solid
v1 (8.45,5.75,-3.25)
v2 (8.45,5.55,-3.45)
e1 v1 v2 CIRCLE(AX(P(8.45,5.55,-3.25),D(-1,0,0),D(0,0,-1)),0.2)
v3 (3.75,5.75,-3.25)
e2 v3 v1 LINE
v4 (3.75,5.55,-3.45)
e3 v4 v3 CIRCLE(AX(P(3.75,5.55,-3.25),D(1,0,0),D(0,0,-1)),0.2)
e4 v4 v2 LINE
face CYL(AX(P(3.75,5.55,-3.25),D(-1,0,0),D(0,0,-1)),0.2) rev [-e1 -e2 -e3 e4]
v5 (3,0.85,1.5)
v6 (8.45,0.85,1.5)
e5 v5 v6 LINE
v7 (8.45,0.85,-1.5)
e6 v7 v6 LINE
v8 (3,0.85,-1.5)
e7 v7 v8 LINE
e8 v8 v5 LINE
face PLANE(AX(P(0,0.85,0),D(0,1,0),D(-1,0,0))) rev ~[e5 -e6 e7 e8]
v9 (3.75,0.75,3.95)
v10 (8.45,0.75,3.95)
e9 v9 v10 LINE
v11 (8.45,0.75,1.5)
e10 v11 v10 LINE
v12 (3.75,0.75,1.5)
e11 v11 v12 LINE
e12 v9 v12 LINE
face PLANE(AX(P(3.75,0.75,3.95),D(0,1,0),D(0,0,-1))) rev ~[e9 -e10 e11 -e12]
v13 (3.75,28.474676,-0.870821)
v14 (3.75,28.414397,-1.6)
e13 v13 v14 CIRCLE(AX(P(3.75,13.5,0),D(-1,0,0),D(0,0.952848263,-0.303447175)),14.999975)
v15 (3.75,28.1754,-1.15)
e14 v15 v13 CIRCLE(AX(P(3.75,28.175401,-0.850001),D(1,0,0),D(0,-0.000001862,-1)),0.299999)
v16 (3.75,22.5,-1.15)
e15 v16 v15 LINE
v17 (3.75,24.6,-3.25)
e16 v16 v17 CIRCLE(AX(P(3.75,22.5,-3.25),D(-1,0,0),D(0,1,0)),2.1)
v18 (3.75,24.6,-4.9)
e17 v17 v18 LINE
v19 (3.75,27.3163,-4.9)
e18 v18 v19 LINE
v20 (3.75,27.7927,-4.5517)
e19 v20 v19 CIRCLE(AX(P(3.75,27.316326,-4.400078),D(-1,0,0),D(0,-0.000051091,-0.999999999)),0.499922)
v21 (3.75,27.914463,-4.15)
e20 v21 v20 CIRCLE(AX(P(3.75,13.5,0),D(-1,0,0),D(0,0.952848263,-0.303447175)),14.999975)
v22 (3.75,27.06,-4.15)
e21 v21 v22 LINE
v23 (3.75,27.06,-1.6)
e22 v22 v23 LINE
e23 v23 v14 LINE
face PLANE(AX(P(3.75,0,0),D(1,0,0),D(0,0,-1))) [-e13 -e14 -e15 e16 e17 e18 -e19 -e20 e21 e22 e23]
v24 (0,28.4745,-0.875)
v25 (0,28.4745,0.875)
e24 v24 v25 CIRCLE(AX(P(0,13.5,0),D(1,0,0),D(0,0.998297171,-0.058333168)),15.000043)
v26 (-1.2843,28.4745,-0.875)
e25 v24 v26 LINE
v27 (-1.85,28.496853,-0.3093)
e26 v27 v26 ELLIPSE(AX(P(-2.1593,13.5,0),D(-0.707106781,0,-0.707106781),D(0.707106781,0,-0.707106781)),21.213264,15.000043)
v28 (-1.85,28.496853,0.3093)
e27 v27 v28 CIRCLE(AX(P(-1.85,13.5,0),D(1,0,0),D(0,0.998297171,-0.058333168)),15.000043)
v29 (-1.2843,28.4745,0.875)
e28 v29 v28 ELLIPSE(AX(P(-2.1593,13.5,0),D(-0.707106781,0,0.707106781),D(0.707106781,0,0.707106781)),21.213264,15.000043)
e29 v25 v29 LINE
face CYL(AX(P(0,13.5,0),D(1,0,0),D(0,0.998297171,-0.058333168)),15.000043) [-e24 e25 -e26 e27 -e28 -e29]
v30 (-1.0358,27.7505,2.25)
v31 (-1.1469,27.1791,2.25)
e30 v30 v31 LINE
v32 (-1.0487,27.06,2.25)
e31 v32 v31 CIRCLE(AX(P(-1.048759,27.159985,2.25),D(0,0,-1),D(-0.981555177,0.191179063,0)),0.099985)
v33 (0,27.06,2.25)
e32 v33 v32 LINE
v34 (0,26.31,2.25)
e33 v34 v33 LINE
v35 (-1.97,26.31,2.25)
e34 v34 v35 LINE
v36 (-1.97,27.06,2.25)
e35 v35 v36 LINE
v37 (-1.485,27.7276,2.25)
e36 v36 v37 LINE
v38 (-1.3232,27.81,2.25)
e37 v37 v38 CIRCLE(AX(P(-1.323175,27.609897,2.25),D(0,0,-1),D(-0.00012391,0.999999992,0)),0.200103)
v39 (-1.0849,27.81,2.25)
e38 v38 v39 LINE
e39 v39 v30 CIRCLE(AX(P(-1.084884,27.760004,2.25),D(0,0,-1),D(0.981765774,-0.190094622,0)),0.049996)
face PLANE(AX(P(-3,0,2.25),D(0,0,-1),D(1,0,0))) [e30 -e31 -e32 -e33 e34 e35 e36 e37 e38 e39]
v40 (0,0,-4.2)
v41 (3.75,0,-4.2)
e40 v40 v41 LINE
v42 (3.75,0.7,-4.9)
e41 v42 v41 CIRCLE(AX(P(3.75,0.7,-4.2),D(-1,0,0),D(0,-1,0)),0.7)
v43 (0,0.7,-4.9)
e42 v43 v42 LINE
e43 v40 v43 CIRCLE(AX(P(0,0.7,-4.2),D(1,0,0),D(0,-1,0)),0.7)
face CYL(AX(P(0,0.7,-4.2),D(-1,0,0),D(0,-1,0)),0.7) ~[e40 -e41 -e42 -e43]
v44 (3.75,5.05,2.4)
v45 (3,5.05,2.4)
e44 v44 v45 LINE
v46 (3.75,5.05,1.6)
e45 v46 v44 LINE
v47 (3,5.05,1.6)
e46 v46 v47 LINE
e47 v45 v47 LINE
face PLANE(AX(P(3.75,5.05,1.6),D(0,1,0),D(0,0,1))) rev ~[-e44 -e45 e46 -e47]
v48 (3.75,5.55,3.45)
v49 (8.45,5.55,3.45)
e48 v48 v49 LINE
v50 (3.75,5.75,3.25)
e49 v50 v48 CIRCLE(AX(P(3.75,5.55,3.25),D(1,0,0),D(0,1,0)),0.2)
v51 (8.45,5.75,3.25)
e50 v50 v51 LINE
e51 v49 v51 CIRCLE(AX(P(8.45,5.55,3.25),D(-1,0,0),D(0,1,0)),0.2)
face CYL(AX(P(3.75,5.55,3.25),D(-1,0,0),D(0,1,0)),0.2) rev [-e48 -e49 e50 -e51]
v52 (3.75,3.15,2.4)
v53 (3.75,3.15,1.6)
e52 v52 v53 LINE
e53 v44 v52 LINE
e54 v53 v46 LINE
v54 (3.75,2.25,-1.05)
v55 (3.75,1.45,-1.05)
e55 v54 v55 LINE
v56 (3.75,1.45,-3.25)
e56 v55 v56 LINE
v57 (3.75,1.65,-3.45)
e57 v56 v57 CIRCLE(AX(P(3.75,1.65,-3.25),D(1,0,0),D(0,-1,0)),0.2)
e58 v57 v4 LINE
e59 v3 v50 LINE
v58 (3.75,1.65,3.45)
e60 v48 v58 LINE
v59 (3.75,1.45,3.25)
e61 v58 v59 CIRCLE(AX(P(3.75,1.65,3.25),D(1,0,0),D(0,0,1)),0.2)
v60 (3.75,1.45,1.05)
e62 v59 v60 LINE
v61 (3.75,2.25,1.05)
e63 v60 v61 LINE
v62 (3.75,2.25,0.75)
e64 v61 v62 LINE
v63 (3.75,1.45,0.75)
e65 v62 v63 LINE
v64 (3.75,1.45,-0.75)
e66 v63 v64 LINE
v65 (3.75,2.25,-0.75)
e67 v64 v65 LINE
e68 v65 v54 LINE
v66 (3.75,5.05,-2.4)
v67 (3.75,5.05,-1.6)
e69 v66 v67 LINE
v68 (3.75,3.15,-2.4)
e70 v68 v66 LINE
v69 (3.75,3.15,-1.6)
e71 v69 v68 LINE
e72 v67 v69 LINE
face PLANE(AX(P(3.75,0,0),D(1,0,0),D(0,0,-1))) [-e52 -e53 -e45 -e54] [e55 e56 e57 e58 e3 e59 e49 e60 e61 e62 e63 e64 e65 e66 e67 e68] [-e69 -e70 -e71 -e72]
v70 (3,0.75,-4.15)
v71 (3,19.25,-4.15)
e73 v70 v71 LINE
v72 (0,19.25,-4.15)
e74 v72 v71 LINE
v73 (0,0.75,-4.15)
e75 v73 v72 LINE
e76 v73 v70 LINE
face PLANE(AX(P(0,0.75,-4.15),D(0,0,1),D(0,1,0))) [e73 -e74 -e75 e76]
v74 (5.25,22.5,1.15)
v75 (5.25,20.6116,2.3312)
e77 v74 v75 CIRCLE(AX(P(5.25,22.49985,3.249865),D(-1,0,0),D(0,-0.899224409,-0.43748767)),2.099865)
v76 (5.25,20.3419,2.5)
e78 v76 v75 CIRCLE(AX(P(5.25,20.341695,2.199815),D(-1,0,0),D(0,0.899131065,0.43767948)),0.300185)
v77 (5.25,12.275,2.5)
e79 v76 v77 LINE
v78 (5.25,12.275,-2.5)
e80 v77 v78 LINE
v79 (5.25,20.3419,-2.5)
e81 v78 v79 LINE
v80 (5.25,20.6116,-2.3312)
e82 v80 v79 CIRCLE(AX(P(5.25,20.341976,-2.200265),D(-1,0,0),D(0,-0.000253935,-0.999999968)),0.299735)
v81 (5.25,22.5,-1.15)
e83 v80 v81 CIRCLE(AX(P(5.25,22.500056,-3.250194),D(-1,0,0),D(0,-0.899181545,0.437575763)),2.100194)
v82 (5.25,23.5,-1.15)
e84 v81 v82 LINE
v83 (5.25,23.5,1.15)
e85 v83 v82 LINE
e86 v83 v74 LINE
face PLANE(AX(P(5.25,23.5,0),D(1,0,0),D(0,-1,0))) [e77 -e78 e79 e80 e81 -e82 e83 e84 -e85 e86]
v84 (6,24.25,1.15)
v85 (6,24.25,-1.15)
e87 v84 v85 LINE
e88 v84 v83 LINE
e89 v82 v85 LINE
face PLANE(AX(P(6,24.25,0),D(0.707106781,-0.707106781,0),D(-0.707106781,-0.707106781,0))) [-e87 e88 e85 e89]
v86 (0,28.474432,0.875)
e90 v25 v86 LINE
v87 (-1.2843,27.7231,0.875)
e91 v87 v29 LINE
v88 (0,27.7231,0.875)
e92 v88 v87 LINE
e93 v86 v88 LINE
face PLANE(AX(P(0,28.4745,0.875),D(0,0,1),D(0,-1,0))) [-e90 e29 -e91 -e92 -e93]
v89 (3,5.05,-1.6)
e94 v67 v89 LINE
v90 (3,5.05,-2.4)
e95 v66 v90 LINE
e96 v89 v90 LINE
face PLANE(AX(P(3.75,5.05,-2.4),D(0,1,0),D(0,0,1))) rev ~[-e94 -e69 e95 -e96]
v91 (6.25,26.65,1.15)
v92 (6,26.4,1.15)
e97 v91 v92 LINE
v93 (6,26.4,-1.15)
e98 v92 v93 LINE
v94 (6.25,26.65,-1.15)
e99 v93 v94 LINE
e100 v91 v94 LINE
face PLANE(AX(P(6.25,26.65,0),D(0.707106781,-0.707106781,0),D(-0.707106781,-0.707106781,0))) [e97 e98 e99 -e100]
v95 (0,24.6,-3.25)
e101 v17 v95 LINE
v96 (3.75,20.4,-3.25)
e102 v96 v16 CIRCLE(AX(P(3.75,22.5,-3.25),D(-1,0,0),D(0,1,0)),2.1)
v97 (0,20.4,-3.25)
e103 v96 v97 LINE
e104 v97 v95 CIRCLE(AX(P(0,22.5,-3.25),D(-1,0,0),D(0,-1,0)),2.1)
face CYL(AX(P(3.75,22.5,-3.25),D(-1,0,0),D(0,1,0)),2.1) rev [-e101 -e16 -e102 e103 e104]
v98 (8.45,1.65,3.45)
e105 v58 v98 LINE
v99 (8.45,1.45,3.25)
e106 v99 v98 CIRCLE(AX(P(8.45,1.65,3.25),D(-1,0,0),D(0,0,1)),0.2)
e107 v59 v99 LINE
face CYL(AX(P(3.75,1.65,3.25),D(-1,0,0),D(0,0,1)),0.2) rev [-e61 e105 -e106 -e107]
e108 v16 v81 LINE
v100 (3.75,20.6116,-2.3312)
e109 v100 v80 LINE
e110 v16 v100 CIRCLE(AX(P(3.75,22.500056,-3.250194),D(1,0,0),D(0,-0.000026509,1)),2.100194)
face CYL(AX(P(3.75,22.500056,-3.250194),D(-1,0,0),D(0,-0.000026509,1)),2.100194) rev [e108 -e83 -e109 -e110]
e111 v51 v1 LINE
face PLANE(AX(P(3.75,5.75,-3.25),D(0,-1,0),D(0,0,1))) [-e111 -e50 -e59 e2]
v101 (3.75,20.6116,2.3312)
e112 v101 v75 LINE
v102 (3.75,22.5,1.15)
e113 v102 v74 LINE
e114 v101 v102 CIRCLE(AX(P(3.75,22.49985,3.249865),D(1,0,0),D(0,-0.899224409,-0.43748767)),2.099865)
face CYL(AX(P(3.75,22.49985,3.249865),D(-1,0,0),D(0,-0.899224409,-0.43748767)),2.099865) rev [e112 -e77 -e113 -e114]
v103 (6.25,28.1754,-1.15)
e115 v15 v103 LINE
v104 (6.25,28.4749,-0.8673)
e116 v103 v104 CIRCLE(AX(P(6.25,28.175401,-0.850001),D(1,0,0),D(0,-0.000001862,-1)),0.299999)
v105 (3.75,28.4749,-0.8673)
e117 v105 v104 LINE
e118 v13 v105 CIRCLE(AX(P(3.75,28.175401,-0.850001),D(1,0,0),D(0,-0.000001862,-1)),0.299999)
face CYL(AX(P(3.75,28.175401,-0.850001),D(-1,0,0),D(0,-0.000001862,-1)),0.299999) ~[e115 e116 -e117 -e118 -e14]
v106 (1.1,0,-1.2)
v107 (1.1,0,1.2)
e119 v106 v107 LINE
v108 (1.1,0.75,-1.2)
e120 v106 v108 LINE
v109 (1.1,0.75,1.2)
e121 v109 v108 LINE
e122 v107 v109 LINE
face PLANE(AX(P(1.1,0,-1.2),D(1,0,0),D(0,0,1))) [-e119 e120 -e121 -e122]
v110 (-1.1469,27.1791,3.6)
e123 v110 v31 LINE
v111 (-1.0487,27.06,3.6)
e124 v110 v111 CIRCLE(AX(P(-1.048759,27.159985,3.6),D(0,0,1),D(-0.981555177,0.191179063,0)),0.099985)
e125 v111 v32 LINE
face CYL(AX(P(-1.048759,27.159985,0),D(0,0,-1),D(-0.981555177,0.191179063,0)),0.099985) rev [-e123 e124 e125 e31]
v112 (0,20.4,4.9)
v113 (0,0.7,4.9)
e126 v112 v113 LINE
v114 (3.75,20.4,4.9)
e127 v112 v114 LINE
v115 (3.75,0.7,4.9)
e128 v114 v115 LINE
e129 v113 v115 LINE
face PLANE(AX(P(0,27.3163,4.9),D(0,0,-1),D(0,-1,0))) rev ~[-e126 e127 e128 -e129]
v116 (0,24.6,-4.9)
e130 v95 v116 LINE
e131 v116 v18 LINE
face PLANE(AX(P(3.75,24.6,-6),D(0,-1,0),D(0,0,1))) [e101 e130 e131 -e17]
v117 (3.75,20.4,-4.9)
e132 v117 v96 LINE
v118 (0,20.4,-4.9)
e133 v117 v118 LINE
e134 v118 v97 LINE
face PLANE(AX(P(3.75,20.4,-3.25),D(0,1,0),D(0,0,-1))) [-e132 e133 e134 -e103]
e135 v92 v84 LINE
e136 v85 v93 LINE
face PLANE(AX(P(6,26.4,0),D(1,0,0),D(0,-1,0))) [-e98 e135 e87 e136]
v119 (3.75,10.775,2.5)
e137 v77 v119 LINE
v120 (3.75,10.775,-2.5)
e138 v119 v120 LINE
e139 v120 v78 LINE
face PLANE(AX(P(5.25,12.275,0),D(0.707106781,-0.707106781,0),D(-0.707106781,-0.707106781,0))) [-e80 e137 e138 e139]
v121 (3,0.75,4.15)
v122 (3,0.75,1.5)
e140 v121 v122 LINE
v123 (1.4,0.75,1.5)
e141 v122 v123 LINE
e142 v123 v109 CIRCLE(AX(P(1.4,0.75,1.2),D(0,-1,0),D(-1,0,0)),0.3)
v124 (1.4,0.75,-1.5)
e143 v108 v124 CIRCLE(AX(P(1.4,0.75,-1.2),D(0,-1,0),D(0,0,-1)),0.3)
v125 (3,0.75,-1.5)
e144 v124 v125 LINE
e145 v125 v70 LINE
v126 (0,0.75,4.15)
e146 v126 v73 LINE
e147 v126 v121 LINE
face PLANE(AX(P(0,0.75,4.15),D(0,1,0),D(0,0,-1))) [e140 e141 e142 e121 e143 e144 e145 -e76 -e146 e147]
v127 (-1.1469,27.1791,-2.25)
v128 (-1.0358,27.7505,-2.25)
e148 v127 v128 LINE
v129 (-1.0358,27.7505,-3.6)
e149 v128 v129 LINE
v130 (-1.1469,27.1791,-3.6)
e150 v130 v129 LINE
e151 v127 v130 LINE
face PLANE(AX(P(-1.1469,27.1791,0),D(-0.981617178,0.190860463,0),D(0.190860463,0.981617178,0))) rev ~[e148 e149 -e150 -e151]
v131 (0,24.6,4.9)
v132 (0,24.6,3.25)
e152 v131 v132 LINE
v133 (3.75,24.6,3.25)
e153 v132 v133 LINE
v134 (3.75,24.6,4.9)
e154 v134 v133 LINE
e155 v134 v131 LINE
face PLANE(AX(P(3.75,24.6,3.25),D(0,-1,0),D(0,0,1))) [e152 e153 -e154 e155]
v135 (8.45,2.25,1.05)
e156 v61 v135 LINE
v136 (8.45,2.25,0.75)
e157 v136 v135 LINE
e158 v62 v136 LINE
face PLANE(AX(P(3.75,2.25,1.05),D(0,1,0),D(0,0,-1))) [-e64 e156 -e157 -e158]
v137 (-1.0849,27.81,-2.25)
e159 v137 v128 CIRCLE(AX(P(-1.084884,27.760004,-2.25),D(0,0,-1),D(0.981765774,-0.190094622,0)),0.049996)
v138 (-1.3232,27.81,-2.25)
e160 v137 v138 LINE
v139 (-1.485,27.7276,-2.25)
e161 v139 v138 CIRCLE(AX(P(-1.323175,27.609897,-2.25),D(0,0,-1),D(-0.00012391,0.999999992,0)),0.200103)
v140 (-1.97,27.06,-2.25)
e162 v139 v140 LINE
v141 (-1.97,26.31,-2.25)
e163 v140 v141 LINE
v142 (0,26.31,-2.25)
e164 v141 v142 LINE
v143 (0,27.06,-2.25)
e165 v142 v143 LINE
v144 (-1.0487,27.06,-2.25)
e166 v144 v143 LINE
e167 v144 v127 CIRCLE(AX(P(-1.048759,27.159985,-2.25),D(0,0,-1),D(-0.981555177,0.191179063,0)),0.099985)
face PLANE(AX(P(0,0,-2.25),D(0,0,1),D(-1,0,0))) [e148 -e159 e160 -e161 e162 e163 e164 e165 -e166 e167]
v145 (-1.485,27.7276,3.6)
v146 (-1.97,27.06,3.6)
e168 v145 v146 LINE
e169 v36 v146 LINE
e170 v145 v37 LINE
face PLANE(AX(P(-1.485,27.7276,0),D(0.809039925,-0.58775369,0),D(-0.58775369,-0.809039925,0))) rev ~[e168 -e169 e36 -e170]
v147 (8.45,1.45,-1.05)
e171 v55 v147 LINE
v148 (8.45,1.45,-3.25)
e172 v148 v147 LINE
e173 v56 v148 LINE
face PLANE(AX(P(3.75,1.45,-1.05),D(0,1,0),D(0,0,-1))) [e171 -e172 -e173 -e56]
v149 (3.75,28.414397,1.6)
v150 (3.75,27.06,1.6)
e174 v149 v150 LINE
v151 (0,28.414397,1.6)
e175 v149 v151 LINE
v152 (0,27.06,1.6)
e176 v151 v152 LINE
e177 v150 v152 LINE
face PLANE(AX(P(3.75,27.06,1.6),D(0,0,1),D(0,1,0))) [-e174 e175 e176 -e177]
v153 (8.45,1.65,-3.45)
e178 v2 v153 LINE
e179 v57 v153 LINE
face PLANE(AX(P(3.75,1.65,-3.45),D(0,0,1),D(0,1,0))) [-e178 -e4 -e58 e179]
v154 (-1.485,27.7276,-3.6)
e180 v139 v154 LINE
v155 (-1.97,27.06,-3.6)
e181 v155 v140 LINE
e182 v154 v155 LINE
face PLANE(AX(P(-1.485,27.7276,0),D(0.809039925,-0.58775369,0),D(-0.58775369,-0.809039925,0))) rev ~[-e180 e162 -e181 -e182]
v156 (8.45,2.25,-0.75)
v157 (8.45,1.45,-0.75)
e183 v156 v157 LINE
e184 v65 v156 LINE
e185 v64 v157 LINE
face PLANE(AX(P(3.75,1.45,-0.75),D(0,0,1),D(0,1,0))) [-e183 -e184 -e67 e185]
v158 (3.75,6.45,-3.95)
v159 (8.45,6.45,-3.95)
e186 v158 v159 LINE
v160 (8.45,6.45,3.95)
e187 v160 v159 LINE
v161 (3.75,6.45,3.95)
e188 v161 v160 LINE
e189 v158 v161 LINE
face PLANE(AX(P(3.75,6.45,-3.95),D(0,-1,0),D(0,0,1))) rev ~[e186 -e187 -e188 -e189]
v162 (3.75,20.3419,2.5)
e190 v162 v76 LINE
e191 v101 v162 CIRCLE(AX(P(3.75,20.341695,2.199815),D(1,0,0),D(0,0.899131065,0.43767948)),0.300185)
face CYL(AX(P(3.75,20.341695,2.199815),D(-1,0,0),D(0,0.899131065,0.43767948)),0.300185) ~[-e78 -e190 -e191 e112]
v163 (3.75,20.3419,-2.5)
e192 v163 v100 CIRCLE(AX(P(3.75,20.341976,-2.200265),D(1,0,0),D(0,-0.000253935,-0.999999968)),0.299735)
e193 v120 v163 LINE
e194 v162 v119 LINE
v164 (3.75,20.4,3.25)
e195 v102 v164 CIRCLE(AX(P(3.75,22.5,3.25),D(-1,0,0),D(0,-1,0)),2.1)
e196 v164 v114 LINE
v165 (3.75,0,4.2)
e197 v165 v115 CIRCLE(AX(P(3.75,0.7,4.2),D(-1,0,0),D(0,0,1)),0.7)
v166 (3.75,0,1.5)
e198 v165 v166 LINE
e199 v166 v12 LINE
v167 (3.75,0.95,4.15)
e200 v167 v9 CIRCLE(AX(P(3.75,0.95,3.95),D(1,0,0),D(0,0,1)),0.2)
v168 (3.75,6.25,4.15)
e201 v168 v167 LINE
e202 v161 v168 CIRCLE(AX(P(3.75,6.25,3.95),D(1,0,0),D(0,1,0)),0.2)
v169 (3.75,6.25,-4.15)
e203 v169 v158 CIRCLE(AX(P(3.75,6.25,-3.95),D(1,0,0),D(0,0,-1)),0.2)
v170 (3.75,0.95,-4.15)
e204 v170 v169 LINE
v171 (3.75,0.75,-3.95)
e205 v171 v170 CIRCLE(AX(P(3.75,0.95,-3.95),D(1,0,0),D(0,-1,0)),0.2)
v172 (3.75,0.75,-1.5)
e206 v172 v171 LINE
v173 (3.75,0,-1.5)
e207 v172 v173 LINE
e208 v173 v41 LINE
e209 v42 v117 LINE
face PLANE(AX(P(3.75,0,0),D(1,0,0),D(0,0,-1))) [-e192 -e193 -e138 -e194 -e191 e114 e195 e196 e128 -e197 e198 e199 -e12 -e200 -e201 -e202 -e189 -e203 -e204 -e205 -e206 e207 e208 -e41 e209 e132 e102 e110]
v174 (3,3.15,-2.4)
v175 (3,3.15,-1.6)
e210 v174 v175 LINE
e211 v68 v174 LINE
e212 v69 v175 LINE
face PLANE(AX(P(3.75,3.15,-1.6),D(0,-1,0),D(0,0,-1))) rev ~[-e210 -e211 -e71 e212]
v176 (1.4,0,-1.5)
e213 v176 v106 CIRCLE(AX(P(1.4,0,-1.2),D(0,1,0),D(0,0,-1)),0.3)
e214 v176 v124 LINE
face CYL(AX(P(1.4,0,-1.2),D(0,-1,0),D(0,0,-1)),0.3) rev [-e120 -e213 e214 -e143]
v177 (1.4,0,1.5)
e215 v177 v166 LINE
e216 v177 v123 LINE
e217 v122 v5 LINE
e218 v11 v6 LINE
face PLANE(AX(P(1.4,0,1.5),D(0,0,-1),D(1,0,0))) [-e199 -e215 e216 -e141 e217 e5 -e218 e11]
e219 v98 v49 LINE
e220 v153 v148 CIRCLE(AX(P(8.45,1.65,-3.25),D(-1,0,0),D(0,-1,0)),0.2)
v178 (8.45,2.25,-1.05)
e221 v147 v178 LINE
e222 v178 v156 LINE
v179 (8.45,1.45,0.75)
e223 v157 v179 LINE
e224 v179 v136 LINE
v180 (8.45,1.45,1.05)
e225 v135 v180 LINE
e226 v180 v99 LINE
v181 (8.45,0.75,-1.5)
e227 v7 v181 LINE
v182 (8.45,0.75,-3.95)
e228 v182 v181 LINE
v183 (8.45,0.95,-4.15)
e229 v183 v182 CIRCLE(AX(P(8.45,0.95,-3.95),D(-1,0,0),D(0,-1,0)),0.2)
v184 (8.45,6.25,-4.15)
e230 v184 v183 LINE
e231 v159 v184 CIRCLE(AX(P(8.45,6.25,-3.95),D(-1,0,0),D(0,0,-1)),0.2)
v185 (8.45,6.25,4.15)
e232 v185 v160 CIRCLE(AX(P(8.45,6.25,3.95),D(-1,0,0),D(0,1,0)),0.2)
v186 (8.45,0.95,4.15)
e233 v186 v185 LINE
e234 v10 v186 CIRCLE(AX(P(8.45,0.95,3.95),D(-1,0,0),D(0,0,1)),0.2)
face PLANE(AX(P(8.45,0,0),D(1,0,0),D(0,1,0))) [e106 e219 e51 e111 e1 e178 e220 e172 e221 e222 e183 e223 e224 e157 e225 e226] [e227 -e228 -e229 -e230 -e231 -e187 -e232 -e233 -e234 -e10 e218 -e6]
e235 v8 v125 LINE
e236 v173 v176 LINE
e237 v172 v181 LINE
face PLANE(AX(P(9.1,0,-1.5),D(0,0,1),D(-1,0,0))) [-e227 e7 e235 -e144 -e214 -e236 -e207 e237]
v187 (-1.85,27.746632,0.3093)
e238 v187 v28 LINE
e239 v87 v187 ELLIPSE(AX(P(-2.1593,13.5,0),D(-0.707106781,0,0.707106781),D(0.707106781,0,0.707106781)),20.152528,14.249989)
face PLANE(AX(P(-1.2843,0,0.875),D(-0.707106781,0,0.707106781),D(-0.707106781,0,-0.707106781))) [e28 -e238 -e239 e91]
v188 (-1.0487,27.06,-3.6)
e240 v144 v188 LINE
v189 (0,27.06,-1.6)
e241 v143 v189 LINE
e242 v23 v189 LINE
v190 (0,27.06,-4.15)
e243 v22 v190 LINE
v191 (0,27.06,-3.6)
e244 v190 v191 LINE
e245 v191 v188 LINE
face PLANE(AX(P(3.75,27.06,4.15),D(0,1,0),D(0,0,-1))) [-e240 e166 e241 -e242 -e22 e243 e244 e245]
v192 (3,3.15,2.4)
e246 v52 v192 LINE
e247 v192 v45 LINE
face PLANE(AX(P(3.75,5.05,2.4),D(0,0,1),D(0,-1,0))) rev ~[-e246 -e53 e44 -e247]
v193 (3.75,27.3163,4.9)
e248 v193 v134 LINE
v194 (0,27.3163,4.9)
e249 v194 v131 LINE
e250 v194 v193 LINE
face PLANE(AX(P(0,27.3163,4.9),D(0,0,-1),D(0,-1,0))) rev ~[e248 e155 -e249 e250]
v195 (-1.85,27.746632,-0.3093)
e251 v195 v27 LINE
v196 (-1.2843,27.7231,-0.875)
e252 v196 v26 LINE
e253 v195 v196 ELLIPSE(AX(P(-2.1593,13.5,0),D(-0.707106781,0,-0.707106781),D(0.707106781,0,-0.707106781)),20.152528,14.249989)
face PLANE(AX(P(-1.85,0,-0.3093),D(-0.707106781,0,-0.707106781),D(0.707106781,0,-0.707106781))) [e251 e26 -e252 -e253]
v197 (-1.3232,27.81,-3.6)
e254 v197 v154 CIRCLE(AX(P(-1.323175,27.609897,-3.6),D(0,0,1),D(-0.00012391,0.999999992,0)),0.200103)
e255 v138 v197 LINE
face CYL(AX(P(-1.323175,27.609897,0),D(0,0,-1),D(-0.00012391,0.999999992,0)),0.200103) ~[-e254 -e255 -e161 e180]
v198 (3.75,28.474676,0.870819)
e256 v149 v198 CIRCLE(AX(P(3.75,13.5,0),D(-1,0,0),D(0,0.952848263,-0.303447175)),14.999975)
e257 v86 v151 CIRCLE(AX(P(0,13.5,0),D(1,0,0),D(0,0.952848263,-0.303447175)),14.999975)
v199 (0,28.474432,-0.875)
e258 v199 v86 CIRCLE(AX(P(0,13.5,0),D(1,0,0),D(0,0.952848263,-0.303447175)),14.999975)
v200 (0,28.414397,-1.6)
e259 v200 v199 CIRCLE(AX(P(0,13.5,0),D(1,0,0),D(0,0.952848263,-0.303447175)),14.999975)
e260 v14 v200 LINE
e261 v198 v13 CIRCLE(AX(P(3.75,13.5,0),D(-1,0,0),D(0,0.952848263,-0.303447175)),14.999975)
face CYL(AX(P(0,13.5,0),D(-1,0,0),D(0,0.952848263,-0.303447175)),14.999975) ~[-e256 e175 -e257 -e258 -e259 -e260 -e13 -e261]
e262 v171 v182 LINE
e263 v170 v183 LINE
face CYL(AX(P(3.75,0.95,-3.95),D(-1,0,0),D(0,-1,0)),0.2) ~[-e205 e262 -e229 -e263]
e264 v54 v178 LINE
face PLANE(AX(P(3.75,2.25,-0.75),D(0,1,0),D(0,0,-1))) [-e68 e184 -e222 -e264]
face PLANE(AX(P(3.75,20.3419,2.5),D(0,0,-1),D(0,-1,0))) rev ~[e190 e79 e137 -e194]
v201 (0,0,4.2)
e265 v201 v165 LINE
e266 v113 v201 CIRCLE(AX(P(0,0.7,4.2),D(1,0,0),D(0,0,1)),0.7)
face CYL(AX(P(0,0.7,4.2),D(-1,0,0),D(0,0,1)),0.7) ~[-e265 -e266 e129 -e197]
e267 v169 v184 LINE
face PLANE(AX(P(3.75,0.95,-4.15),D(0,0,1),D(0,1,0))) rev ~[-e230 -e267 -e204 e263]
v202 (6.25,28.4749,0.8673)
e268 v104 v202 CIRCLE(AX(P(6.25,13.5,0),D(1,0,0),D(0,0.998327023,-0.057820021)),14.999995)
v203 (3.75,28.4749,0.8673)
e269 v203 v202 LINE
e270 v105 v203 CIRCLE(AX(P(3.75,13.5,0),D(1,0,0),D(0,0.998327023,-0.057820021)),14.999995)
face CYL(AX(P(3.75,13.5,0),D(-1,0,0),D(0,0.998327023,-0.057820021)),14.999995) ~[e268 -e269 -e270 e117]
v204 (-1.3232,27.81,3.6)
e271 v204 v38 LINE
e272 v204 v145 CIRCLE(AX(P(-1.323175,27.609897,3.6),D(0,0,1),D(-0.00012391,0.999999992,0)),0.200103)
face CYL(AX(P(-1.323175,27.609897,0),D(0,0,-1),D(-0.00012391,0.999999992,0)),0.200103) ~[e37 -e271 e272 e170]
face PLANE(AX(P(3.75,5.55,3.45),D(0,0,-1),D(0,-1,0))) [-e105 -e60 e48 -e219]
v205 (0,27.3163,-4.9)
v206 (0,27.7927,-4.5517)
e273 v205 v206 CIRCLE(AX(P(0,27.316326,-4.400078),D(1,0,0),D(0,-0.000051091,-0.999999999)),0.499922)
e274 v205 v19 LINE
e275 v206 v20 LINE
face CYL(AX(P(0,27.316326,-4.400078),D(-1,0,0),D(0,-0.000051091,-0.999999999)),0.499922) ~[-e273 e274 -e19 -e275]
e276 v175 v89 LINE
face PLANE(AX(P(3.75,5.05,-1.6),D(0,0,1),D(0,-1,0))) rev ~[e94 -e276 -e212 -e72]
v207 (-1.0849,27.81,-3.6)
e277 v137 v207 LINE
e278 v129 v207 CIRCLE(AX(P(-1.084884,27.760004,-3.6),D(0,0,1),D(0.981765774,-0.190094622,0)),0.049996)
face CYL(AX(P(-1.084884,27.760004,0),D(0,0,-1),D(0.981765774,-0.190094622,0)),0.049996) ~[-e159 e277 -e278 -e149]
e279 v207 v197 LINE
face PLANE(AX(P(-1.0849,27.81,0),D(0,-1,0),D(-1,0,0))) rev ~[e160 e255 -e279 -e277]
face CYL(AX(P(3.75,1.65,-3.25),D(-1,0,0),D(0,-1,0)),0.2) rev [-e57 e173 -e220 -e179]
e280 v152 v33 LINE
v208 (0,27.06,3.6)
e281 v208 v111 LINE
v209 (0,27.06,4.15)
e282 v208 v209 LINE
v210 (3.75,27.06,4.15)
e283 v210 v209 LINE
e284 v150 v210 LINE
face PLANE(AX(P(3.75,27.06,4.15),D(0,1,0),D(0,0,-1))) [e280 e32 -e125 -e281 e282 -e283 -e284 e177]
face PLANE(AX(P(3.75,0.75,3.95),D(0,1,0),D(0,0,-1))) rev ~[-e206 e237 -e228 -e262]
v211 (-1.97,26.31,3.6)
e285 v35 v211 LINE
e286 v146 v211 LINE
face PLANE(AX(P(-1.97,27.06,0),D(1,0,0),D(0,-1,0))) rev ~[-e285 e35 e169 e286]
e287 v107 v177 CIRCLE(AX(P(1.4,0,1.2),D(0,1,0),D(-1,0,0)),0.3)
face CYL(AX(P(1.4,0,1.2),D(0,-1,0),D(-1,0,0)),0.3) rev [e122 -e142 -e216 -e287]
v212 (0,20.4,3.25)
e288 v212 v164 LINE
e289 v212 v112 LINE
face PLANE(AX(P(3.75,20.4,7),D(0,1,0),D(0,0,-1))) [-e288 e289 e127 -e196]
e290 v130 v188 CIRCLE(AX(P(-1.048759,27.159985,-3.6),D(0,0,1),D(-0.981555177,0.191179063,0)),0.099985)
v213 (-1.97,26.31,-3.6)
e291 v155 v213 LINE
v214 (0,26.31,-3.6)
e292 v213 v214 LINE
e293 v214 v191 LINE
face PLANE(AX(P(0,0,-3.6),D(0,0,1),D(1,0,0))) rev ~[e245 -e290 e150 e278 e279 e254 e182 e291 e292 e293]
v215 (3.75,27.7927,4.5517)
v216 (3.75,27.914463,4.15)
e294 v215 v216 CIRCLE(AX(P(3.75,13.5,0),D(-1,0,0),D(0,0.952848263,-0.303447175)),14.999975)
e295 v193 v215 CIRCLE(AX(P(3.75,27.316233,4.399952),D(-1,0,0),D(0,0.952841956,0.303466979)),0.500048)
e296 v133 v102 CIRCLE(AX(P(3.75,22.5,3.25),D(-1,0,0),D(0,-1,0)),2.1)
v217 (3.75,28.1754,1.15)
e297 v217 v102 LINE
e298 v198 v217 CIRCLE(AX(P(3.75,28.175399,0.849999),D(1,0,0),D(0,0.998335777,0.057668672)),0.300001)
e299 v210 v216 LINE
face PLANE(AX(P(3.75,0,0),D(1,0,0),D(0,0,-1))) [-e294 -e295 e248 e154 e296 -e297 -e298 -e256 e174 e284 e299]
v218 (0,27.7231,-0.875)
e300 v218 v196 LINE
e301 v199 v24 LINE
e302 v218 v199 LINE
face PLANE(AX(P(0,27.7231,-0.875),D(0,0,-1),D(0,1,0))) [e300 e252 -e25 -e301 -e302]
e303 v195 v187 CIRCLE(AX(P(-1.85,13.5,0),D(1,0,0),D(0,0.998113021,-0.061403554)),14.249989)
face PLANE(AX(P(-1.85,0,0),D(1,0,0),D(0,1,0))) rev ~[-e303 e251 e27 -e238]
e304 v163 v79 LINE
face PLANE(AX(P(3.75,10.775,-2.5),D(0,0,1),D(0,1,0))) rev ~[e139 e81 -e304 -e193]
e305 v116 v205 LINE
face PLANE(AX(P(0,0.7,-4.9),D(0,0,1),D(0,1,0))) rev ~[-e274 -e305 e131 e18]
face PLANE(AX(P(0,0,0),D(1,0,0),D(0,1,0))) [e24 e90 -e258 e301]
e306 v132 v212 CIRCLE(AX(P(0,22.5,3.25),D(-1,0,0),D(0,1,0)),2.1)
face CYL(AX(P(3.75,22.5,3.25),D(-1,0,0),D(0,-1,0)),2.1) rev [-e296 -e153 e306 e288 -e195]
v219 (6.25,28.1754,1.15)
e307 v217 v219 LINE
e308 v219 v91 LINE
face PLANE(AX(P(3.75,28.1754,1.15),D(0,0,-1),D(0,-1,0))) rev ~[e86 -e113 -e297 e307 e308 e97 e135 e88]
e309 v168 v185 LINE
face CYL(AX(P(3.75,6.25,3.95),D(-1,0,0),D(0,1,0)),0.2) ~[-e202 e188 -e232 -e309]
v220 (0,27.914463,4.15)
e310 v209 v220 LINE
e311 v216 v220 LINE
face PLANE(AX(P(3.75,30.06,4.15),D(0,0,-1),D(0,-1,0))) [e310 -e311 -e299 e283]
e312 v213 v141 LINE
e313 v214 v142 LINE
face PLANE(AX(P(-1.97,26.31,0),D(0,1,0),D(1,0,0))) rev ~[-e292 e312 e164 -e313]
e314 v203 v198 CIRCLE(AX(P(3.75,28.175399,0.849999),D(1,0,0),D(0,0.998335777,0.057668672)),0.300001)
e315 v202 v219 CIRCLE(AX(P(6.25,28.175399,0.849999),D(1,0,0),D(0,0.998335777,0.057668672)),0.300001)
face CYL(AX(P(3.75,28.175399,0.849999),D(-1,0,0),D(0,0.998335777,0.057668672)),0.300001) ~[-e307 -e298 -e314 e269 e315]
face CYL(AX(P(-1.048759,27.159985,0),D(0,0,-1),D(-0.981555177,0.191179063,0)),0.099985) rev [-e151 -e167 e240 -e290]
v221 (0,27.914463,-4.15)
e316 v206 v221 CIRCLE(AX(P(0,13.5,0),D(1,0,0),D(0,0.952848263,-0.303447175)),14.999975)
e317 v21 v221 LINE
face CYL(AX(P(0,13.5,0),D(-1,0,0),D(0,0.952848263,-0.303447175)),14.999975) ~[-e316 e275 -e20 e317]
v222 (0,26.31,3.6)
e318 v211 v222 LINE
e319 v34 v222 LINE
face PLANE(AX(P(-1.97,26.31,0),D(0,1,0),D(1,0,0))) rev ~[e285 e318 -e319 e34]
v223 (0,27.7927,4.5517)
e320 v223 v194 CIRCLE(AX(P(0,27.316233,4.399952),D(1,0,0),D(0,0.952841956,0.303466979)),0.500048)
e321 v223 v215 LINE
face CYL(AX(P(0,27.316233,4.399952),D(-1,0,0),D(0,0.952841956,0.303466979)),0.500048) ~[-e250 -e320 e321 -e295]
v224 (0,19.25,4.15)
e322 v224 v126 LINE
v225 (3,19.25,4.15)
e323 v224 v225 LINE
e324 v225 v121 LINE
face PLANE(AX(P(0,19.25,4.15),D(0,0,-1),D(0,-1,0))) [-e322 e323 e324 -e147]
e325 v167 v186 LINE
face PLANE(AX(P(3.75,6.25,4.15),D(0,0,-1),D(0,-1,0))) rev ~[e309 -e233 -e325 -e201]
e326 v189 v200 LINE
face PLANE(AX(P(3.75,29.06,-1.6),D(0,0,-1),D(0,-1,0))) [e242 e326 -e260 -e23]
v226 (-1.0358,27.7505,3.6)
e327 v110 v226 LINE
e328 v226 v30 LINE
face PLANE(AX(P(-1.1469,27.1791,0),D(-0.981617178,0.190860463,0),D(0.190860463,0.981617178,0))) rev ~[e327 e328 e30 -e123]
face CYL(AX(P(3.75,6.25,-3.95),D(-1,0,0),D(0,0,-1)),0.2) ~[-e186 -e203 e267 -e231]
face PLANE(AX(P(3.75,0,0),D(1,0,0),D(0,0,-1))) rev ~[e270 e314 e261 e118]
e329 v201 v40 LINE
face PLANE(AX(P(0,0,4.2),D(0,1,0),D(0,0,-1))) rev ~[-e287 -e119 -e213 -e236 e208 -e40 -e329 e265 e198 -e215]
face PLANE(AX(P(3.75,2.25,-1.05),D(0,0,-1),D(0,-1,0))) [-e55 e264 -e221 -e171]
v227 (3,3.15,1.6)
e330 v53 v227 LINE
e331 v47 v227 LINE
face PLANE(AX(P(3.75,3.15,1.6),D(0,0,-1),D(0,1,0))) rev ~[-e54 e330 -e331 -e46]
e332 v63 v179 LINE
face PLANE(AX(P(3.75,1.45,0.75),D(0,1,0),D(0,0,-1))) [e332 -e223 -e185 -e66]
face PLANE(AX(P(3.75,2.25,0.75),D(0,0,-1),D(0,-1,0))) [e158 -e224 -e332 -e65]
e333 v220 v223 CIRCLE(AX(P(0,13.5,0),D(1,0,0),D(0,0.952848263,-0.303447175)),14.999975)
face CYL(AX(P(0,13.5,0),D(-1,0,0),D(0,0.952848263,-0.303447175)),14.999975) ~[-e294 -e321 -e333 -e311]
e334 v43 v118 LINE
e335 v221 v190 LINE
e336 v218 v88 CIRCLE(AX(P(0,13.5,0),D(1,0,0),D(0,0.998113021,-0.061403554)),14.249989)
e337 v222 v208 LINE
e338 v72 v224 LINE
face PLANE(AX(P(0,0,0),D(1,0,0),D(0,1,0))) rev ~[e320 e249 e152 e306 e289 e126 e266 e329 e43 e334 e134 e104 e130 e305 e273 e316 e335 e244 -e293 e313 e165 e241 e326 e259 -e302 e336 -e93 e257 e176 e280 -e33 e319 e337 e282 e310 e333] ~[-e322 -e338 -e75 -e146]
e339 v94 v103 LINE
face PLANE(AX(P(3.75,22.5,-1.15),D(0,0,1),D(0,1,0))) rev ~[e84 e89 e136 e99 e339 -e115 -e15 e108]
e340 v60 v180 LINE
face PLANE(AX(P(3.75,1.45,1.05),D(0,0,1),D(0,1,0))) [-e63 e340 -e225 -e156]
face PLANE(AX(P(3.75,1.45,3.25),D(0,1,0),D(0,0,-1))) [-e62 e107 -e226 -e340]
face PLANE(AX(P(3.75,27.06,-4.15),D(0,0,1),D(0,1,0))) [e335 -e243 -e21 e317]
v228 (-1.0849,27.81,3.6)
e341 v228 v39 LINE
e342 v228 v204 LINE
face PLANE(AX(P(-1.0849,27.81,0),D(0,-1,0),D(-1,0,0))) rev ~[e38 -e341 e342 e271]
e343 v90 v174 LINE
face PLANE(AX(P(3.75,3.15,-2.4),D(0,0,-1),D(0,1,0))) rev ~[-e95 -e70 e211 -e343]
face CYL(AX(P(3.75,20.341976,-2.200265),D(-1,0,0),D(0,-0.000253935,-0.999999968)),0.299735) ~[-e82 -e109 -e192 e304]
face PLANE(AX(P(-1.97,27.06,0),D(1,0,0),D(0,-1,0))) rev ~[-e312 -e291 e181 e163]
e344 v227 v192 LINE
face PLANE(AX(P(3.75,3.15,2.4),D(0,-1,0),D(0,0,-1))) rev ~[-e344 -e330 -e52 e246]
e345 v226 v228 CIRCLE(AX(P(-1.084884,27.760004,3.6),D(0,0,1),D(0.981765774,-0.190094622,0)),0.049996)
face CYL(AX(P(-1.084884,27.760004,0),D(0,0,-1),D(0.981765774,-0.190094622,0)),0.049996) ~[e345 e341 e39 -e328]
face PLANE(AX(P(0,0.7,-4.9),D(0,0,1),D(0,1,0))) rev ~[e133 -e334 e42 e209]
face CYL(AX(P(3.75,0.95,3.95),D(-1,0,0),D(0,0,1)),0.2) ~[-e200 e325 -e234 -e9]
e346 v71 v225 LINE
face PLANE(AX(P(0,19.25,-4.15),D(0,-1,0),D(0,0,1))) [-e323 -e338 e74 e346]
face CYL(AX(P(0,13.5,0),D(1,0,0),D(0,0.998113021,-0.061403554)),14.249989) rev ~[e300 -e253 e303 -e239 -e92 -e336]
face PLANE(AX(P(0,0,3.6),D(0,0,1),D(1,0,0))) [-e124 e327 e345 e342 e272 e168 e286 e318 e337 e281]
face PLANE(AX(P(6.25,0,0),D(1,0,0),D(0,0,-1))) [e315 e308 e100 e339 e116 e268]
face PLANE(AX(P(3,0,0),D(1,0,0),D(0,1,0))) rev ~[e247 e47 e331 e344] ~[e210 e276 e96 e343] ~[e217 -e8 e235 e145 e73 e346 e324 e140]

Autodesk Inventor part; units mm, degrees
sketch "Sketch_1" plane through (0, 0, 0) normal (1, 0, 0) x (0, 1, 0)
  arc A0 (0.7, 4.9) -> (0, 4.2) centre (0.7, 4.2) ccw
  line L0 (0, 4.2) -> (0, -4.2)
  arc A1 (0, -4.2) -> (0.7, -4.9) centre (0.7, -4.2) ccw
  line L1 (0.7, -4.9) -> (27.3163, -4.9)
  arc A2 (27.3163, -4.9) -> (27.7927, -4.5517) centre (27.3163, -4.4) ccw
  arc A3 (27.7927, -4.5517) -> (27.7927, 4.5517) centre (13.5, 0) ccw
  arc A4 (27.7927, 4.5517) -> (27.3163, 4.9) centre (27.3163, 4.4) ccw
  line L2 (27.3163, 4.9) -> (0.7, 4.9)
extrude "Extrusion1" add sketch "Sketch_1" along normal blind 8.45
sketch "Sketch_2" plane through (3.75, 0, 0) normal (1, 0, 0) x (0, 0, -1)
  line L0 (-6, 29) -> (-6, -1)
  line L1 (-6, -1) -> (6, -1)
  line L2 (6, -1) -> (6, 29)
  line L3 (6, 29) -> (-6, 29)
  line L4 (-4.15, 6.25) -> (-4.15, 0.95)
  arc A0 (-4.15, 0.95) -> (-3.95, 0.75) centre (-3.95, 0.95) ccw
  line L5 (-3.95, 0.75) -> (3.95, 0.75)
  arc A1 (3.95, 0.75) -> (4.15, 0.95) centre (3.95, 0.95) ccw
  line L6 (4.15, 0.95) -> (4.15, 6.25)
  arc A2 (4.15, 6.25) -> (3.95, 6.45) centre (3.95, 6.25) ccw
  line L7 (3.95, 6.45) -> (-3.95, 6.45)
  arc A3 (-3.95, 6.45) -> (-4.15, 6.25) centre (-3.95, 6.25) ccw
extrude "Extrusion2" cut sketch "Sketch_2" along normal blind 8.45
sketch "Sketch_3" plane through (3.75, 0, 0) normal (1, 0, 0) x (0, 0, -1)
  line L0 (-3.45, 5.55) -> (-3.45, 1.65)
  arc A0 (-3.45, 1.65) -> (-3.25, 1.45) centre (-3.25, 1.65) ccw
  line L1 (-3.25, 1.45) -> (-1.05, 1.45)
  line L2 (-1.05, 1.45) -> (-1.05, 2.25)
  line L3 (-1.05, 2.25) -> (-0.75, 2.25)
  line L4 (-0.75, 2.25) -> (-0.75, 1.45)
  line L5 (-0.75, 1.45) -> (0.75, 1.45)
  line L6 (0.75, 1.45) -> (0.75, 2.25)
  line L7 (0.75, 2.25) -> (1.05, 2.25)
  line L8 (1.05, 2.25) -> (1.05, 1.45)
  line L9 (1.05, 1.45) -> (3.25, 1.45)
  arc A1 (3.25, 1.45) -> (3.45, 1.65) centre (3.25, 1.65) ccw
  line L10 (3.45, 1.65) -> (3.45, 5.55)
  arc A2 (3.45, 5.55) -> (3.25, 5.75) centre (3.25, 5.55) ccw
  line L11 (3.25, 5.75) -> (-3.25, 5.75)
  arc A3 (-3.25, 5.75) -> (-3.45, 5.55) centre (-3.25, 5.55) ccw
extrude "Extrusion3" cut sketch "Sketch_3" along normal blind 8.45
sketch "Sketch_4" plane through (3.75, 0, 0) normal (1, 0, 0) x (0, 0, -1)
  line L0 (1.6, 5.05) -> (1.6, 3.15)
  line L1 (1.6, 3.15) -> (2.4, 3.15)
  line L2 (2.4, 3.15) -> (2.4, 5.05)
  line L3 (2.4, 5.05) -> (1.6, 5.05)
extrude "Extrusion4" cut sketch "Sketch_4" against normal blind 8.45
sketch "Sketch_5" plane through (3.75, 0, 0) normal (1, 0, 0) x (0, 0, -1)
  line L0 (-2.4, 5.05) -> (-2.4, 3.15)
  line L1 (-2.4, 3.15) -> (-1.6, 3.15)
  line L2 (-1.6, 3.15) -> (-1.6, 5.05)
  line L3 (-1.6, 5.05) -> (-2.4, 5.05)
extrude "Extrusion5" cut sketch "Sketch_5" against normal blind 8.45
sketch "Sketch_7" plane through (3.75, 0, 0) normal (1, 0, 0) x (0, 0, -1)
  line L0 (-2.5, 20.3419) -> (-2.5, 10.775)
  line L1 (-2.5, 10.775) -> (2.5, 10.775)
  line L2 (2.5, 10.775) -> (2.5, 20.3419)
  arc A0 (2.5, 20.3419) -> (2.3312, 20.6116) centre (2.2, 20.3419) ccw
  arc A1 (1.15, 22.5) -> (2.3312, 20.6116) centre (3.25, 22.5) ccw
  line L3 (1.15, 22.5) -> (1.15, 28.1754)
  arc A2 (1.15, 28.1754) -> (0.8673, 28.4749) centre (0.85, 28.1754) ccw
  arc A3 (0.8673, 28.4749) -> (-0.8673, 28.4749) centre (0, 13.5) ccw
  arc A4 (-0.8673, 28.4749) -> (-1.15, 28.1754) centre (-0.85, 28.1754) ccw
  line L4 (-1.15, 28.1754) -> (-1.15, 22.5)
  arc A5 (-2.3312, 20.6116) -> (-1.15, 22.5) centre (-3.25, 22.5) ccw
  arc A6 (-2.3312, 20.6116) -> (-2.5, 20.3419) centre (-2.2, 20.3419) ccw
extrude "Extrusion6" add sketch "Sketch_7" along normal blind 2.5
sketch "Sketch_8" plane through (0, 0, 0) normal (0, 0, 1) x (1, 0, 0)
  line L0 (3.75, 10.775) -> (11.25, 10.775)
  line L1 (11.25, 10.775) -> (11.25, 30.775)
  line L2 (11.25, 30.775) -> (6.25, 30.775)
  line L3 (6.25, 30.775) -> (6.25, 26.65)
  line L4 (6.25, 26.65) -> (6, 26.4)
  line L5 (6, 26.4) -> (6, 24.25)
  line L6 (6, 24.25) -> (5.25, 23.5)
  line L7 (5.25, 23.5) -> (5.25, 12.275)
  line L8 (5.25, 12.275) -> (3.75, 10.775)
extrude "Extrusion7" cut sketch "Sketch_8" along normal mid plane 6
sketch "Sketch_6" plane through (3.75, 0, 0) normal (1, 0, 0) x (0, 0, -1)
  line L0 (-7, 20.4) -> (-3.25, 20.4)
  arc A0 (-3.25, 20.4) -> (-3.25, 24.6) centre (-3.25, 22.5) ccw
  line L1 (-3.25, 24.6) -> (-6, 24.6)
  line L2 (-6, 24.6) -> (-6, 30.06)
  line L3 (-6, 30.06) -> (-4.15, 30.06)
  line L4 (-4.15, 30.06) -> (-4.15, 27.06)
  line L5 (-4.15, 27.06) -> (-1.6, 27.06)
  line L6 (-1.6, 27.06) -> (-1.6, 29.06)
  line L7 (-1.6, 29.06) -> (1.6, 29.06)
  line L8 (1.6, 29.06) -> (1.6, 27.06)
  line L9 (1.6, 27.06) -> (4.15, 27.06)
  line L10 (4.15, 27.06) -> (4.15, 30.06)
  line L11 (4.15, 30.06) -> (6, 30.06)
  line L12 (6, 30.06) -> (6, 24.6)
  line L13 (6, 24.6) -> (3.25, 24.6)
  arc A1 (3.25, 24.6) -> (3.25, 20.4) centre (3.25, 22.5) ccw
  line L14 (3.25, 20.4) -> (7, 20.4)
  line L15 (7, 20.4) -> (7, 31.06)
  line L16 (7, 31.06) -> (-7, 31.06)
  line L17 (-7, 31.06) -> (-7, 20.4)
extrude "Extrusion8" cut sketch "Sketch_6" along normal mid plane 10
sketch "Sketch_9" plane through (0, 0, 0) normal (1, 0, 0) x (0, 1, 0)
  line L0 (19.25, 4.15) -> (0.75, 4.15)
  line L1 (0.75, 4.15) -> (0.75, -4.15)
  line L2 (0.75, -4.15) -> (19.25, -4.15)
  line L3 (19.25, -4.15) -> (19.25, 4.15)
extrude "Extrusion9" cut sketch "Sketch_9" along normal blind 3
sketch "Sketch_13" plane through (0, 0, 0) normal (0, 0, 1) x (1, 0, 0)
  line L0 (-1.97, 27.06) -> (-1.97, 26.31)
  line L1 (-1.97, 26.31) -> (0, 26.31)
  line L2 (0, 26.31) -> (0, 27.06)
  line L3 (0, 27.06) -> (-1.0487, 27.06)
  arc A0 (-1.1469, 27.1791) -> (-1.0487, 27.06) centre (-1.0487, 27.16) ccw
  line L4 (-1.1469, 27.1791) -> (-1.0358, 27.7505)
  arc A1 (-1.0358, 27.7505) -> (-1.0849, 27.81) centre (-1.0849, 27.76) ccw
  line L5 (-1.0849, 27.81) -> (-1.3232, 27.81)
  arc A2 (-1.3232, 27.81) -> (-1.485, 27.7276) centre (-1.3232, 27.61) ccw
  line L6 (-1.485, 27.7276) -> (-1.97, 27.06)
extrude "Extrusion10" add sketch "Sketch_13" along normal mid plane 7.2
sketch "Sketch_14" plane through (0, 0, 0) normal (0, 1, 0) x (-1, 0, 0)
  line L0 (3, 2.25) -> (0, 2.25)
  line L1 (0, 2.25) -> (0, -2.25)
  line L2 (0, -2.25) -> (3, -2.25)
  line L3 (3, -2.25) -> (3, 2.25)
extrude "Extrusion11" cut sketch "Sketch_14" along normal blind 30
sketch "Sketch_11" plane through (0, 0, 0) normal (1, 0, 0) x (0, 1, 0)
  line L0 (28.4745, 0.875) -> (27.7231, 0.875)
  arc A0 (27.7231, -0.875) -> (27.7231, 0.875) centre (13.5, 0) ccw
  line L1 (27.7231, -0.875) -> (28.4745, -0.875)
  arc A1 (28.4745, -0.875) -> (28.4745, 0.875) centre (13.5, 0) ccw
extrude "Extrusion12" add sketch "Sketch_11" against normal blind 1.85
sketch "Sketch_10" plane through (0, 0, 0) normal (0, 1, 0) x (-1, 0, 0)
  line L0 (3.85, 0.875) -> (1.2843, 0.875)
  line L1 (1.2843, 0.875) -> (1.85, 0.3093)
  line L2 (1.85, 0.3093) -> (1.85, -0.3093)
  line L3 (1.85, -0.3093) -> (1.2843, -0.875)
  line L4 (1.2843, -0.875) -> (3.85, -0.875)
  line L5 (3.85, -0.875) -> (3.85, 0.875)
extrude "Extrusion13" cut sketch "Sketch_10" along normal blind 30
sketch "Sketch_12" plane through (0, 0, 0) normal (0, 1, 0) x (-1, 0, 0)
  line L0 (-1.1, -1.2) -> (-1.1, 1.2)
  arc A0 (-1.1, 1.2) -> (-1.4, 1.5) centre (-1.4, 1.2) ccw
  line L1 (-1.4, 1.5) -> (-9.1, 1.5)
  line L2 (-9.1, 1.5) -> (-9.1, -1.5)
  line L3 (-9.1, -1.5) -> (-1.4, -1.5)
  arc A1 (-1.4, -1.5) -> (-1.1, -1.2) centre (-1.4, -1.2) ccw
extrude "Extrusion14" cut sketch "Sketch_12" along normal blind 0.85
ref_plane "NEBV_XY" through (5.296, 4.1, 0) normal (1, 0, 0) x (0, 0, 1)
ref_plane "NEBV_YZ" through (5.296, 4.1, 0) normal (0, 0, 1) x (0, -1, 0)
ref_plane "NEBV_ZX" through (5.296, 4.1, 0) normal (0, -1, 0) x (1, 0, 0)
ref_plane "VAVE_XY" through (0.92, 0.2, 0) normal (0, -1, 0) x (1, 0, 0)
ref_plane "VAVE_YZ" through (0.92, 0.2, 0) normal (1, 0, 0) x (0, 0, 1)
ref_plane "VAVE_ZX" through (0.92, 0.2, 0) normal (0, 0, 1) x (0, -1, 0)
properties part number "3779382 VUVG-LK-IP40"
